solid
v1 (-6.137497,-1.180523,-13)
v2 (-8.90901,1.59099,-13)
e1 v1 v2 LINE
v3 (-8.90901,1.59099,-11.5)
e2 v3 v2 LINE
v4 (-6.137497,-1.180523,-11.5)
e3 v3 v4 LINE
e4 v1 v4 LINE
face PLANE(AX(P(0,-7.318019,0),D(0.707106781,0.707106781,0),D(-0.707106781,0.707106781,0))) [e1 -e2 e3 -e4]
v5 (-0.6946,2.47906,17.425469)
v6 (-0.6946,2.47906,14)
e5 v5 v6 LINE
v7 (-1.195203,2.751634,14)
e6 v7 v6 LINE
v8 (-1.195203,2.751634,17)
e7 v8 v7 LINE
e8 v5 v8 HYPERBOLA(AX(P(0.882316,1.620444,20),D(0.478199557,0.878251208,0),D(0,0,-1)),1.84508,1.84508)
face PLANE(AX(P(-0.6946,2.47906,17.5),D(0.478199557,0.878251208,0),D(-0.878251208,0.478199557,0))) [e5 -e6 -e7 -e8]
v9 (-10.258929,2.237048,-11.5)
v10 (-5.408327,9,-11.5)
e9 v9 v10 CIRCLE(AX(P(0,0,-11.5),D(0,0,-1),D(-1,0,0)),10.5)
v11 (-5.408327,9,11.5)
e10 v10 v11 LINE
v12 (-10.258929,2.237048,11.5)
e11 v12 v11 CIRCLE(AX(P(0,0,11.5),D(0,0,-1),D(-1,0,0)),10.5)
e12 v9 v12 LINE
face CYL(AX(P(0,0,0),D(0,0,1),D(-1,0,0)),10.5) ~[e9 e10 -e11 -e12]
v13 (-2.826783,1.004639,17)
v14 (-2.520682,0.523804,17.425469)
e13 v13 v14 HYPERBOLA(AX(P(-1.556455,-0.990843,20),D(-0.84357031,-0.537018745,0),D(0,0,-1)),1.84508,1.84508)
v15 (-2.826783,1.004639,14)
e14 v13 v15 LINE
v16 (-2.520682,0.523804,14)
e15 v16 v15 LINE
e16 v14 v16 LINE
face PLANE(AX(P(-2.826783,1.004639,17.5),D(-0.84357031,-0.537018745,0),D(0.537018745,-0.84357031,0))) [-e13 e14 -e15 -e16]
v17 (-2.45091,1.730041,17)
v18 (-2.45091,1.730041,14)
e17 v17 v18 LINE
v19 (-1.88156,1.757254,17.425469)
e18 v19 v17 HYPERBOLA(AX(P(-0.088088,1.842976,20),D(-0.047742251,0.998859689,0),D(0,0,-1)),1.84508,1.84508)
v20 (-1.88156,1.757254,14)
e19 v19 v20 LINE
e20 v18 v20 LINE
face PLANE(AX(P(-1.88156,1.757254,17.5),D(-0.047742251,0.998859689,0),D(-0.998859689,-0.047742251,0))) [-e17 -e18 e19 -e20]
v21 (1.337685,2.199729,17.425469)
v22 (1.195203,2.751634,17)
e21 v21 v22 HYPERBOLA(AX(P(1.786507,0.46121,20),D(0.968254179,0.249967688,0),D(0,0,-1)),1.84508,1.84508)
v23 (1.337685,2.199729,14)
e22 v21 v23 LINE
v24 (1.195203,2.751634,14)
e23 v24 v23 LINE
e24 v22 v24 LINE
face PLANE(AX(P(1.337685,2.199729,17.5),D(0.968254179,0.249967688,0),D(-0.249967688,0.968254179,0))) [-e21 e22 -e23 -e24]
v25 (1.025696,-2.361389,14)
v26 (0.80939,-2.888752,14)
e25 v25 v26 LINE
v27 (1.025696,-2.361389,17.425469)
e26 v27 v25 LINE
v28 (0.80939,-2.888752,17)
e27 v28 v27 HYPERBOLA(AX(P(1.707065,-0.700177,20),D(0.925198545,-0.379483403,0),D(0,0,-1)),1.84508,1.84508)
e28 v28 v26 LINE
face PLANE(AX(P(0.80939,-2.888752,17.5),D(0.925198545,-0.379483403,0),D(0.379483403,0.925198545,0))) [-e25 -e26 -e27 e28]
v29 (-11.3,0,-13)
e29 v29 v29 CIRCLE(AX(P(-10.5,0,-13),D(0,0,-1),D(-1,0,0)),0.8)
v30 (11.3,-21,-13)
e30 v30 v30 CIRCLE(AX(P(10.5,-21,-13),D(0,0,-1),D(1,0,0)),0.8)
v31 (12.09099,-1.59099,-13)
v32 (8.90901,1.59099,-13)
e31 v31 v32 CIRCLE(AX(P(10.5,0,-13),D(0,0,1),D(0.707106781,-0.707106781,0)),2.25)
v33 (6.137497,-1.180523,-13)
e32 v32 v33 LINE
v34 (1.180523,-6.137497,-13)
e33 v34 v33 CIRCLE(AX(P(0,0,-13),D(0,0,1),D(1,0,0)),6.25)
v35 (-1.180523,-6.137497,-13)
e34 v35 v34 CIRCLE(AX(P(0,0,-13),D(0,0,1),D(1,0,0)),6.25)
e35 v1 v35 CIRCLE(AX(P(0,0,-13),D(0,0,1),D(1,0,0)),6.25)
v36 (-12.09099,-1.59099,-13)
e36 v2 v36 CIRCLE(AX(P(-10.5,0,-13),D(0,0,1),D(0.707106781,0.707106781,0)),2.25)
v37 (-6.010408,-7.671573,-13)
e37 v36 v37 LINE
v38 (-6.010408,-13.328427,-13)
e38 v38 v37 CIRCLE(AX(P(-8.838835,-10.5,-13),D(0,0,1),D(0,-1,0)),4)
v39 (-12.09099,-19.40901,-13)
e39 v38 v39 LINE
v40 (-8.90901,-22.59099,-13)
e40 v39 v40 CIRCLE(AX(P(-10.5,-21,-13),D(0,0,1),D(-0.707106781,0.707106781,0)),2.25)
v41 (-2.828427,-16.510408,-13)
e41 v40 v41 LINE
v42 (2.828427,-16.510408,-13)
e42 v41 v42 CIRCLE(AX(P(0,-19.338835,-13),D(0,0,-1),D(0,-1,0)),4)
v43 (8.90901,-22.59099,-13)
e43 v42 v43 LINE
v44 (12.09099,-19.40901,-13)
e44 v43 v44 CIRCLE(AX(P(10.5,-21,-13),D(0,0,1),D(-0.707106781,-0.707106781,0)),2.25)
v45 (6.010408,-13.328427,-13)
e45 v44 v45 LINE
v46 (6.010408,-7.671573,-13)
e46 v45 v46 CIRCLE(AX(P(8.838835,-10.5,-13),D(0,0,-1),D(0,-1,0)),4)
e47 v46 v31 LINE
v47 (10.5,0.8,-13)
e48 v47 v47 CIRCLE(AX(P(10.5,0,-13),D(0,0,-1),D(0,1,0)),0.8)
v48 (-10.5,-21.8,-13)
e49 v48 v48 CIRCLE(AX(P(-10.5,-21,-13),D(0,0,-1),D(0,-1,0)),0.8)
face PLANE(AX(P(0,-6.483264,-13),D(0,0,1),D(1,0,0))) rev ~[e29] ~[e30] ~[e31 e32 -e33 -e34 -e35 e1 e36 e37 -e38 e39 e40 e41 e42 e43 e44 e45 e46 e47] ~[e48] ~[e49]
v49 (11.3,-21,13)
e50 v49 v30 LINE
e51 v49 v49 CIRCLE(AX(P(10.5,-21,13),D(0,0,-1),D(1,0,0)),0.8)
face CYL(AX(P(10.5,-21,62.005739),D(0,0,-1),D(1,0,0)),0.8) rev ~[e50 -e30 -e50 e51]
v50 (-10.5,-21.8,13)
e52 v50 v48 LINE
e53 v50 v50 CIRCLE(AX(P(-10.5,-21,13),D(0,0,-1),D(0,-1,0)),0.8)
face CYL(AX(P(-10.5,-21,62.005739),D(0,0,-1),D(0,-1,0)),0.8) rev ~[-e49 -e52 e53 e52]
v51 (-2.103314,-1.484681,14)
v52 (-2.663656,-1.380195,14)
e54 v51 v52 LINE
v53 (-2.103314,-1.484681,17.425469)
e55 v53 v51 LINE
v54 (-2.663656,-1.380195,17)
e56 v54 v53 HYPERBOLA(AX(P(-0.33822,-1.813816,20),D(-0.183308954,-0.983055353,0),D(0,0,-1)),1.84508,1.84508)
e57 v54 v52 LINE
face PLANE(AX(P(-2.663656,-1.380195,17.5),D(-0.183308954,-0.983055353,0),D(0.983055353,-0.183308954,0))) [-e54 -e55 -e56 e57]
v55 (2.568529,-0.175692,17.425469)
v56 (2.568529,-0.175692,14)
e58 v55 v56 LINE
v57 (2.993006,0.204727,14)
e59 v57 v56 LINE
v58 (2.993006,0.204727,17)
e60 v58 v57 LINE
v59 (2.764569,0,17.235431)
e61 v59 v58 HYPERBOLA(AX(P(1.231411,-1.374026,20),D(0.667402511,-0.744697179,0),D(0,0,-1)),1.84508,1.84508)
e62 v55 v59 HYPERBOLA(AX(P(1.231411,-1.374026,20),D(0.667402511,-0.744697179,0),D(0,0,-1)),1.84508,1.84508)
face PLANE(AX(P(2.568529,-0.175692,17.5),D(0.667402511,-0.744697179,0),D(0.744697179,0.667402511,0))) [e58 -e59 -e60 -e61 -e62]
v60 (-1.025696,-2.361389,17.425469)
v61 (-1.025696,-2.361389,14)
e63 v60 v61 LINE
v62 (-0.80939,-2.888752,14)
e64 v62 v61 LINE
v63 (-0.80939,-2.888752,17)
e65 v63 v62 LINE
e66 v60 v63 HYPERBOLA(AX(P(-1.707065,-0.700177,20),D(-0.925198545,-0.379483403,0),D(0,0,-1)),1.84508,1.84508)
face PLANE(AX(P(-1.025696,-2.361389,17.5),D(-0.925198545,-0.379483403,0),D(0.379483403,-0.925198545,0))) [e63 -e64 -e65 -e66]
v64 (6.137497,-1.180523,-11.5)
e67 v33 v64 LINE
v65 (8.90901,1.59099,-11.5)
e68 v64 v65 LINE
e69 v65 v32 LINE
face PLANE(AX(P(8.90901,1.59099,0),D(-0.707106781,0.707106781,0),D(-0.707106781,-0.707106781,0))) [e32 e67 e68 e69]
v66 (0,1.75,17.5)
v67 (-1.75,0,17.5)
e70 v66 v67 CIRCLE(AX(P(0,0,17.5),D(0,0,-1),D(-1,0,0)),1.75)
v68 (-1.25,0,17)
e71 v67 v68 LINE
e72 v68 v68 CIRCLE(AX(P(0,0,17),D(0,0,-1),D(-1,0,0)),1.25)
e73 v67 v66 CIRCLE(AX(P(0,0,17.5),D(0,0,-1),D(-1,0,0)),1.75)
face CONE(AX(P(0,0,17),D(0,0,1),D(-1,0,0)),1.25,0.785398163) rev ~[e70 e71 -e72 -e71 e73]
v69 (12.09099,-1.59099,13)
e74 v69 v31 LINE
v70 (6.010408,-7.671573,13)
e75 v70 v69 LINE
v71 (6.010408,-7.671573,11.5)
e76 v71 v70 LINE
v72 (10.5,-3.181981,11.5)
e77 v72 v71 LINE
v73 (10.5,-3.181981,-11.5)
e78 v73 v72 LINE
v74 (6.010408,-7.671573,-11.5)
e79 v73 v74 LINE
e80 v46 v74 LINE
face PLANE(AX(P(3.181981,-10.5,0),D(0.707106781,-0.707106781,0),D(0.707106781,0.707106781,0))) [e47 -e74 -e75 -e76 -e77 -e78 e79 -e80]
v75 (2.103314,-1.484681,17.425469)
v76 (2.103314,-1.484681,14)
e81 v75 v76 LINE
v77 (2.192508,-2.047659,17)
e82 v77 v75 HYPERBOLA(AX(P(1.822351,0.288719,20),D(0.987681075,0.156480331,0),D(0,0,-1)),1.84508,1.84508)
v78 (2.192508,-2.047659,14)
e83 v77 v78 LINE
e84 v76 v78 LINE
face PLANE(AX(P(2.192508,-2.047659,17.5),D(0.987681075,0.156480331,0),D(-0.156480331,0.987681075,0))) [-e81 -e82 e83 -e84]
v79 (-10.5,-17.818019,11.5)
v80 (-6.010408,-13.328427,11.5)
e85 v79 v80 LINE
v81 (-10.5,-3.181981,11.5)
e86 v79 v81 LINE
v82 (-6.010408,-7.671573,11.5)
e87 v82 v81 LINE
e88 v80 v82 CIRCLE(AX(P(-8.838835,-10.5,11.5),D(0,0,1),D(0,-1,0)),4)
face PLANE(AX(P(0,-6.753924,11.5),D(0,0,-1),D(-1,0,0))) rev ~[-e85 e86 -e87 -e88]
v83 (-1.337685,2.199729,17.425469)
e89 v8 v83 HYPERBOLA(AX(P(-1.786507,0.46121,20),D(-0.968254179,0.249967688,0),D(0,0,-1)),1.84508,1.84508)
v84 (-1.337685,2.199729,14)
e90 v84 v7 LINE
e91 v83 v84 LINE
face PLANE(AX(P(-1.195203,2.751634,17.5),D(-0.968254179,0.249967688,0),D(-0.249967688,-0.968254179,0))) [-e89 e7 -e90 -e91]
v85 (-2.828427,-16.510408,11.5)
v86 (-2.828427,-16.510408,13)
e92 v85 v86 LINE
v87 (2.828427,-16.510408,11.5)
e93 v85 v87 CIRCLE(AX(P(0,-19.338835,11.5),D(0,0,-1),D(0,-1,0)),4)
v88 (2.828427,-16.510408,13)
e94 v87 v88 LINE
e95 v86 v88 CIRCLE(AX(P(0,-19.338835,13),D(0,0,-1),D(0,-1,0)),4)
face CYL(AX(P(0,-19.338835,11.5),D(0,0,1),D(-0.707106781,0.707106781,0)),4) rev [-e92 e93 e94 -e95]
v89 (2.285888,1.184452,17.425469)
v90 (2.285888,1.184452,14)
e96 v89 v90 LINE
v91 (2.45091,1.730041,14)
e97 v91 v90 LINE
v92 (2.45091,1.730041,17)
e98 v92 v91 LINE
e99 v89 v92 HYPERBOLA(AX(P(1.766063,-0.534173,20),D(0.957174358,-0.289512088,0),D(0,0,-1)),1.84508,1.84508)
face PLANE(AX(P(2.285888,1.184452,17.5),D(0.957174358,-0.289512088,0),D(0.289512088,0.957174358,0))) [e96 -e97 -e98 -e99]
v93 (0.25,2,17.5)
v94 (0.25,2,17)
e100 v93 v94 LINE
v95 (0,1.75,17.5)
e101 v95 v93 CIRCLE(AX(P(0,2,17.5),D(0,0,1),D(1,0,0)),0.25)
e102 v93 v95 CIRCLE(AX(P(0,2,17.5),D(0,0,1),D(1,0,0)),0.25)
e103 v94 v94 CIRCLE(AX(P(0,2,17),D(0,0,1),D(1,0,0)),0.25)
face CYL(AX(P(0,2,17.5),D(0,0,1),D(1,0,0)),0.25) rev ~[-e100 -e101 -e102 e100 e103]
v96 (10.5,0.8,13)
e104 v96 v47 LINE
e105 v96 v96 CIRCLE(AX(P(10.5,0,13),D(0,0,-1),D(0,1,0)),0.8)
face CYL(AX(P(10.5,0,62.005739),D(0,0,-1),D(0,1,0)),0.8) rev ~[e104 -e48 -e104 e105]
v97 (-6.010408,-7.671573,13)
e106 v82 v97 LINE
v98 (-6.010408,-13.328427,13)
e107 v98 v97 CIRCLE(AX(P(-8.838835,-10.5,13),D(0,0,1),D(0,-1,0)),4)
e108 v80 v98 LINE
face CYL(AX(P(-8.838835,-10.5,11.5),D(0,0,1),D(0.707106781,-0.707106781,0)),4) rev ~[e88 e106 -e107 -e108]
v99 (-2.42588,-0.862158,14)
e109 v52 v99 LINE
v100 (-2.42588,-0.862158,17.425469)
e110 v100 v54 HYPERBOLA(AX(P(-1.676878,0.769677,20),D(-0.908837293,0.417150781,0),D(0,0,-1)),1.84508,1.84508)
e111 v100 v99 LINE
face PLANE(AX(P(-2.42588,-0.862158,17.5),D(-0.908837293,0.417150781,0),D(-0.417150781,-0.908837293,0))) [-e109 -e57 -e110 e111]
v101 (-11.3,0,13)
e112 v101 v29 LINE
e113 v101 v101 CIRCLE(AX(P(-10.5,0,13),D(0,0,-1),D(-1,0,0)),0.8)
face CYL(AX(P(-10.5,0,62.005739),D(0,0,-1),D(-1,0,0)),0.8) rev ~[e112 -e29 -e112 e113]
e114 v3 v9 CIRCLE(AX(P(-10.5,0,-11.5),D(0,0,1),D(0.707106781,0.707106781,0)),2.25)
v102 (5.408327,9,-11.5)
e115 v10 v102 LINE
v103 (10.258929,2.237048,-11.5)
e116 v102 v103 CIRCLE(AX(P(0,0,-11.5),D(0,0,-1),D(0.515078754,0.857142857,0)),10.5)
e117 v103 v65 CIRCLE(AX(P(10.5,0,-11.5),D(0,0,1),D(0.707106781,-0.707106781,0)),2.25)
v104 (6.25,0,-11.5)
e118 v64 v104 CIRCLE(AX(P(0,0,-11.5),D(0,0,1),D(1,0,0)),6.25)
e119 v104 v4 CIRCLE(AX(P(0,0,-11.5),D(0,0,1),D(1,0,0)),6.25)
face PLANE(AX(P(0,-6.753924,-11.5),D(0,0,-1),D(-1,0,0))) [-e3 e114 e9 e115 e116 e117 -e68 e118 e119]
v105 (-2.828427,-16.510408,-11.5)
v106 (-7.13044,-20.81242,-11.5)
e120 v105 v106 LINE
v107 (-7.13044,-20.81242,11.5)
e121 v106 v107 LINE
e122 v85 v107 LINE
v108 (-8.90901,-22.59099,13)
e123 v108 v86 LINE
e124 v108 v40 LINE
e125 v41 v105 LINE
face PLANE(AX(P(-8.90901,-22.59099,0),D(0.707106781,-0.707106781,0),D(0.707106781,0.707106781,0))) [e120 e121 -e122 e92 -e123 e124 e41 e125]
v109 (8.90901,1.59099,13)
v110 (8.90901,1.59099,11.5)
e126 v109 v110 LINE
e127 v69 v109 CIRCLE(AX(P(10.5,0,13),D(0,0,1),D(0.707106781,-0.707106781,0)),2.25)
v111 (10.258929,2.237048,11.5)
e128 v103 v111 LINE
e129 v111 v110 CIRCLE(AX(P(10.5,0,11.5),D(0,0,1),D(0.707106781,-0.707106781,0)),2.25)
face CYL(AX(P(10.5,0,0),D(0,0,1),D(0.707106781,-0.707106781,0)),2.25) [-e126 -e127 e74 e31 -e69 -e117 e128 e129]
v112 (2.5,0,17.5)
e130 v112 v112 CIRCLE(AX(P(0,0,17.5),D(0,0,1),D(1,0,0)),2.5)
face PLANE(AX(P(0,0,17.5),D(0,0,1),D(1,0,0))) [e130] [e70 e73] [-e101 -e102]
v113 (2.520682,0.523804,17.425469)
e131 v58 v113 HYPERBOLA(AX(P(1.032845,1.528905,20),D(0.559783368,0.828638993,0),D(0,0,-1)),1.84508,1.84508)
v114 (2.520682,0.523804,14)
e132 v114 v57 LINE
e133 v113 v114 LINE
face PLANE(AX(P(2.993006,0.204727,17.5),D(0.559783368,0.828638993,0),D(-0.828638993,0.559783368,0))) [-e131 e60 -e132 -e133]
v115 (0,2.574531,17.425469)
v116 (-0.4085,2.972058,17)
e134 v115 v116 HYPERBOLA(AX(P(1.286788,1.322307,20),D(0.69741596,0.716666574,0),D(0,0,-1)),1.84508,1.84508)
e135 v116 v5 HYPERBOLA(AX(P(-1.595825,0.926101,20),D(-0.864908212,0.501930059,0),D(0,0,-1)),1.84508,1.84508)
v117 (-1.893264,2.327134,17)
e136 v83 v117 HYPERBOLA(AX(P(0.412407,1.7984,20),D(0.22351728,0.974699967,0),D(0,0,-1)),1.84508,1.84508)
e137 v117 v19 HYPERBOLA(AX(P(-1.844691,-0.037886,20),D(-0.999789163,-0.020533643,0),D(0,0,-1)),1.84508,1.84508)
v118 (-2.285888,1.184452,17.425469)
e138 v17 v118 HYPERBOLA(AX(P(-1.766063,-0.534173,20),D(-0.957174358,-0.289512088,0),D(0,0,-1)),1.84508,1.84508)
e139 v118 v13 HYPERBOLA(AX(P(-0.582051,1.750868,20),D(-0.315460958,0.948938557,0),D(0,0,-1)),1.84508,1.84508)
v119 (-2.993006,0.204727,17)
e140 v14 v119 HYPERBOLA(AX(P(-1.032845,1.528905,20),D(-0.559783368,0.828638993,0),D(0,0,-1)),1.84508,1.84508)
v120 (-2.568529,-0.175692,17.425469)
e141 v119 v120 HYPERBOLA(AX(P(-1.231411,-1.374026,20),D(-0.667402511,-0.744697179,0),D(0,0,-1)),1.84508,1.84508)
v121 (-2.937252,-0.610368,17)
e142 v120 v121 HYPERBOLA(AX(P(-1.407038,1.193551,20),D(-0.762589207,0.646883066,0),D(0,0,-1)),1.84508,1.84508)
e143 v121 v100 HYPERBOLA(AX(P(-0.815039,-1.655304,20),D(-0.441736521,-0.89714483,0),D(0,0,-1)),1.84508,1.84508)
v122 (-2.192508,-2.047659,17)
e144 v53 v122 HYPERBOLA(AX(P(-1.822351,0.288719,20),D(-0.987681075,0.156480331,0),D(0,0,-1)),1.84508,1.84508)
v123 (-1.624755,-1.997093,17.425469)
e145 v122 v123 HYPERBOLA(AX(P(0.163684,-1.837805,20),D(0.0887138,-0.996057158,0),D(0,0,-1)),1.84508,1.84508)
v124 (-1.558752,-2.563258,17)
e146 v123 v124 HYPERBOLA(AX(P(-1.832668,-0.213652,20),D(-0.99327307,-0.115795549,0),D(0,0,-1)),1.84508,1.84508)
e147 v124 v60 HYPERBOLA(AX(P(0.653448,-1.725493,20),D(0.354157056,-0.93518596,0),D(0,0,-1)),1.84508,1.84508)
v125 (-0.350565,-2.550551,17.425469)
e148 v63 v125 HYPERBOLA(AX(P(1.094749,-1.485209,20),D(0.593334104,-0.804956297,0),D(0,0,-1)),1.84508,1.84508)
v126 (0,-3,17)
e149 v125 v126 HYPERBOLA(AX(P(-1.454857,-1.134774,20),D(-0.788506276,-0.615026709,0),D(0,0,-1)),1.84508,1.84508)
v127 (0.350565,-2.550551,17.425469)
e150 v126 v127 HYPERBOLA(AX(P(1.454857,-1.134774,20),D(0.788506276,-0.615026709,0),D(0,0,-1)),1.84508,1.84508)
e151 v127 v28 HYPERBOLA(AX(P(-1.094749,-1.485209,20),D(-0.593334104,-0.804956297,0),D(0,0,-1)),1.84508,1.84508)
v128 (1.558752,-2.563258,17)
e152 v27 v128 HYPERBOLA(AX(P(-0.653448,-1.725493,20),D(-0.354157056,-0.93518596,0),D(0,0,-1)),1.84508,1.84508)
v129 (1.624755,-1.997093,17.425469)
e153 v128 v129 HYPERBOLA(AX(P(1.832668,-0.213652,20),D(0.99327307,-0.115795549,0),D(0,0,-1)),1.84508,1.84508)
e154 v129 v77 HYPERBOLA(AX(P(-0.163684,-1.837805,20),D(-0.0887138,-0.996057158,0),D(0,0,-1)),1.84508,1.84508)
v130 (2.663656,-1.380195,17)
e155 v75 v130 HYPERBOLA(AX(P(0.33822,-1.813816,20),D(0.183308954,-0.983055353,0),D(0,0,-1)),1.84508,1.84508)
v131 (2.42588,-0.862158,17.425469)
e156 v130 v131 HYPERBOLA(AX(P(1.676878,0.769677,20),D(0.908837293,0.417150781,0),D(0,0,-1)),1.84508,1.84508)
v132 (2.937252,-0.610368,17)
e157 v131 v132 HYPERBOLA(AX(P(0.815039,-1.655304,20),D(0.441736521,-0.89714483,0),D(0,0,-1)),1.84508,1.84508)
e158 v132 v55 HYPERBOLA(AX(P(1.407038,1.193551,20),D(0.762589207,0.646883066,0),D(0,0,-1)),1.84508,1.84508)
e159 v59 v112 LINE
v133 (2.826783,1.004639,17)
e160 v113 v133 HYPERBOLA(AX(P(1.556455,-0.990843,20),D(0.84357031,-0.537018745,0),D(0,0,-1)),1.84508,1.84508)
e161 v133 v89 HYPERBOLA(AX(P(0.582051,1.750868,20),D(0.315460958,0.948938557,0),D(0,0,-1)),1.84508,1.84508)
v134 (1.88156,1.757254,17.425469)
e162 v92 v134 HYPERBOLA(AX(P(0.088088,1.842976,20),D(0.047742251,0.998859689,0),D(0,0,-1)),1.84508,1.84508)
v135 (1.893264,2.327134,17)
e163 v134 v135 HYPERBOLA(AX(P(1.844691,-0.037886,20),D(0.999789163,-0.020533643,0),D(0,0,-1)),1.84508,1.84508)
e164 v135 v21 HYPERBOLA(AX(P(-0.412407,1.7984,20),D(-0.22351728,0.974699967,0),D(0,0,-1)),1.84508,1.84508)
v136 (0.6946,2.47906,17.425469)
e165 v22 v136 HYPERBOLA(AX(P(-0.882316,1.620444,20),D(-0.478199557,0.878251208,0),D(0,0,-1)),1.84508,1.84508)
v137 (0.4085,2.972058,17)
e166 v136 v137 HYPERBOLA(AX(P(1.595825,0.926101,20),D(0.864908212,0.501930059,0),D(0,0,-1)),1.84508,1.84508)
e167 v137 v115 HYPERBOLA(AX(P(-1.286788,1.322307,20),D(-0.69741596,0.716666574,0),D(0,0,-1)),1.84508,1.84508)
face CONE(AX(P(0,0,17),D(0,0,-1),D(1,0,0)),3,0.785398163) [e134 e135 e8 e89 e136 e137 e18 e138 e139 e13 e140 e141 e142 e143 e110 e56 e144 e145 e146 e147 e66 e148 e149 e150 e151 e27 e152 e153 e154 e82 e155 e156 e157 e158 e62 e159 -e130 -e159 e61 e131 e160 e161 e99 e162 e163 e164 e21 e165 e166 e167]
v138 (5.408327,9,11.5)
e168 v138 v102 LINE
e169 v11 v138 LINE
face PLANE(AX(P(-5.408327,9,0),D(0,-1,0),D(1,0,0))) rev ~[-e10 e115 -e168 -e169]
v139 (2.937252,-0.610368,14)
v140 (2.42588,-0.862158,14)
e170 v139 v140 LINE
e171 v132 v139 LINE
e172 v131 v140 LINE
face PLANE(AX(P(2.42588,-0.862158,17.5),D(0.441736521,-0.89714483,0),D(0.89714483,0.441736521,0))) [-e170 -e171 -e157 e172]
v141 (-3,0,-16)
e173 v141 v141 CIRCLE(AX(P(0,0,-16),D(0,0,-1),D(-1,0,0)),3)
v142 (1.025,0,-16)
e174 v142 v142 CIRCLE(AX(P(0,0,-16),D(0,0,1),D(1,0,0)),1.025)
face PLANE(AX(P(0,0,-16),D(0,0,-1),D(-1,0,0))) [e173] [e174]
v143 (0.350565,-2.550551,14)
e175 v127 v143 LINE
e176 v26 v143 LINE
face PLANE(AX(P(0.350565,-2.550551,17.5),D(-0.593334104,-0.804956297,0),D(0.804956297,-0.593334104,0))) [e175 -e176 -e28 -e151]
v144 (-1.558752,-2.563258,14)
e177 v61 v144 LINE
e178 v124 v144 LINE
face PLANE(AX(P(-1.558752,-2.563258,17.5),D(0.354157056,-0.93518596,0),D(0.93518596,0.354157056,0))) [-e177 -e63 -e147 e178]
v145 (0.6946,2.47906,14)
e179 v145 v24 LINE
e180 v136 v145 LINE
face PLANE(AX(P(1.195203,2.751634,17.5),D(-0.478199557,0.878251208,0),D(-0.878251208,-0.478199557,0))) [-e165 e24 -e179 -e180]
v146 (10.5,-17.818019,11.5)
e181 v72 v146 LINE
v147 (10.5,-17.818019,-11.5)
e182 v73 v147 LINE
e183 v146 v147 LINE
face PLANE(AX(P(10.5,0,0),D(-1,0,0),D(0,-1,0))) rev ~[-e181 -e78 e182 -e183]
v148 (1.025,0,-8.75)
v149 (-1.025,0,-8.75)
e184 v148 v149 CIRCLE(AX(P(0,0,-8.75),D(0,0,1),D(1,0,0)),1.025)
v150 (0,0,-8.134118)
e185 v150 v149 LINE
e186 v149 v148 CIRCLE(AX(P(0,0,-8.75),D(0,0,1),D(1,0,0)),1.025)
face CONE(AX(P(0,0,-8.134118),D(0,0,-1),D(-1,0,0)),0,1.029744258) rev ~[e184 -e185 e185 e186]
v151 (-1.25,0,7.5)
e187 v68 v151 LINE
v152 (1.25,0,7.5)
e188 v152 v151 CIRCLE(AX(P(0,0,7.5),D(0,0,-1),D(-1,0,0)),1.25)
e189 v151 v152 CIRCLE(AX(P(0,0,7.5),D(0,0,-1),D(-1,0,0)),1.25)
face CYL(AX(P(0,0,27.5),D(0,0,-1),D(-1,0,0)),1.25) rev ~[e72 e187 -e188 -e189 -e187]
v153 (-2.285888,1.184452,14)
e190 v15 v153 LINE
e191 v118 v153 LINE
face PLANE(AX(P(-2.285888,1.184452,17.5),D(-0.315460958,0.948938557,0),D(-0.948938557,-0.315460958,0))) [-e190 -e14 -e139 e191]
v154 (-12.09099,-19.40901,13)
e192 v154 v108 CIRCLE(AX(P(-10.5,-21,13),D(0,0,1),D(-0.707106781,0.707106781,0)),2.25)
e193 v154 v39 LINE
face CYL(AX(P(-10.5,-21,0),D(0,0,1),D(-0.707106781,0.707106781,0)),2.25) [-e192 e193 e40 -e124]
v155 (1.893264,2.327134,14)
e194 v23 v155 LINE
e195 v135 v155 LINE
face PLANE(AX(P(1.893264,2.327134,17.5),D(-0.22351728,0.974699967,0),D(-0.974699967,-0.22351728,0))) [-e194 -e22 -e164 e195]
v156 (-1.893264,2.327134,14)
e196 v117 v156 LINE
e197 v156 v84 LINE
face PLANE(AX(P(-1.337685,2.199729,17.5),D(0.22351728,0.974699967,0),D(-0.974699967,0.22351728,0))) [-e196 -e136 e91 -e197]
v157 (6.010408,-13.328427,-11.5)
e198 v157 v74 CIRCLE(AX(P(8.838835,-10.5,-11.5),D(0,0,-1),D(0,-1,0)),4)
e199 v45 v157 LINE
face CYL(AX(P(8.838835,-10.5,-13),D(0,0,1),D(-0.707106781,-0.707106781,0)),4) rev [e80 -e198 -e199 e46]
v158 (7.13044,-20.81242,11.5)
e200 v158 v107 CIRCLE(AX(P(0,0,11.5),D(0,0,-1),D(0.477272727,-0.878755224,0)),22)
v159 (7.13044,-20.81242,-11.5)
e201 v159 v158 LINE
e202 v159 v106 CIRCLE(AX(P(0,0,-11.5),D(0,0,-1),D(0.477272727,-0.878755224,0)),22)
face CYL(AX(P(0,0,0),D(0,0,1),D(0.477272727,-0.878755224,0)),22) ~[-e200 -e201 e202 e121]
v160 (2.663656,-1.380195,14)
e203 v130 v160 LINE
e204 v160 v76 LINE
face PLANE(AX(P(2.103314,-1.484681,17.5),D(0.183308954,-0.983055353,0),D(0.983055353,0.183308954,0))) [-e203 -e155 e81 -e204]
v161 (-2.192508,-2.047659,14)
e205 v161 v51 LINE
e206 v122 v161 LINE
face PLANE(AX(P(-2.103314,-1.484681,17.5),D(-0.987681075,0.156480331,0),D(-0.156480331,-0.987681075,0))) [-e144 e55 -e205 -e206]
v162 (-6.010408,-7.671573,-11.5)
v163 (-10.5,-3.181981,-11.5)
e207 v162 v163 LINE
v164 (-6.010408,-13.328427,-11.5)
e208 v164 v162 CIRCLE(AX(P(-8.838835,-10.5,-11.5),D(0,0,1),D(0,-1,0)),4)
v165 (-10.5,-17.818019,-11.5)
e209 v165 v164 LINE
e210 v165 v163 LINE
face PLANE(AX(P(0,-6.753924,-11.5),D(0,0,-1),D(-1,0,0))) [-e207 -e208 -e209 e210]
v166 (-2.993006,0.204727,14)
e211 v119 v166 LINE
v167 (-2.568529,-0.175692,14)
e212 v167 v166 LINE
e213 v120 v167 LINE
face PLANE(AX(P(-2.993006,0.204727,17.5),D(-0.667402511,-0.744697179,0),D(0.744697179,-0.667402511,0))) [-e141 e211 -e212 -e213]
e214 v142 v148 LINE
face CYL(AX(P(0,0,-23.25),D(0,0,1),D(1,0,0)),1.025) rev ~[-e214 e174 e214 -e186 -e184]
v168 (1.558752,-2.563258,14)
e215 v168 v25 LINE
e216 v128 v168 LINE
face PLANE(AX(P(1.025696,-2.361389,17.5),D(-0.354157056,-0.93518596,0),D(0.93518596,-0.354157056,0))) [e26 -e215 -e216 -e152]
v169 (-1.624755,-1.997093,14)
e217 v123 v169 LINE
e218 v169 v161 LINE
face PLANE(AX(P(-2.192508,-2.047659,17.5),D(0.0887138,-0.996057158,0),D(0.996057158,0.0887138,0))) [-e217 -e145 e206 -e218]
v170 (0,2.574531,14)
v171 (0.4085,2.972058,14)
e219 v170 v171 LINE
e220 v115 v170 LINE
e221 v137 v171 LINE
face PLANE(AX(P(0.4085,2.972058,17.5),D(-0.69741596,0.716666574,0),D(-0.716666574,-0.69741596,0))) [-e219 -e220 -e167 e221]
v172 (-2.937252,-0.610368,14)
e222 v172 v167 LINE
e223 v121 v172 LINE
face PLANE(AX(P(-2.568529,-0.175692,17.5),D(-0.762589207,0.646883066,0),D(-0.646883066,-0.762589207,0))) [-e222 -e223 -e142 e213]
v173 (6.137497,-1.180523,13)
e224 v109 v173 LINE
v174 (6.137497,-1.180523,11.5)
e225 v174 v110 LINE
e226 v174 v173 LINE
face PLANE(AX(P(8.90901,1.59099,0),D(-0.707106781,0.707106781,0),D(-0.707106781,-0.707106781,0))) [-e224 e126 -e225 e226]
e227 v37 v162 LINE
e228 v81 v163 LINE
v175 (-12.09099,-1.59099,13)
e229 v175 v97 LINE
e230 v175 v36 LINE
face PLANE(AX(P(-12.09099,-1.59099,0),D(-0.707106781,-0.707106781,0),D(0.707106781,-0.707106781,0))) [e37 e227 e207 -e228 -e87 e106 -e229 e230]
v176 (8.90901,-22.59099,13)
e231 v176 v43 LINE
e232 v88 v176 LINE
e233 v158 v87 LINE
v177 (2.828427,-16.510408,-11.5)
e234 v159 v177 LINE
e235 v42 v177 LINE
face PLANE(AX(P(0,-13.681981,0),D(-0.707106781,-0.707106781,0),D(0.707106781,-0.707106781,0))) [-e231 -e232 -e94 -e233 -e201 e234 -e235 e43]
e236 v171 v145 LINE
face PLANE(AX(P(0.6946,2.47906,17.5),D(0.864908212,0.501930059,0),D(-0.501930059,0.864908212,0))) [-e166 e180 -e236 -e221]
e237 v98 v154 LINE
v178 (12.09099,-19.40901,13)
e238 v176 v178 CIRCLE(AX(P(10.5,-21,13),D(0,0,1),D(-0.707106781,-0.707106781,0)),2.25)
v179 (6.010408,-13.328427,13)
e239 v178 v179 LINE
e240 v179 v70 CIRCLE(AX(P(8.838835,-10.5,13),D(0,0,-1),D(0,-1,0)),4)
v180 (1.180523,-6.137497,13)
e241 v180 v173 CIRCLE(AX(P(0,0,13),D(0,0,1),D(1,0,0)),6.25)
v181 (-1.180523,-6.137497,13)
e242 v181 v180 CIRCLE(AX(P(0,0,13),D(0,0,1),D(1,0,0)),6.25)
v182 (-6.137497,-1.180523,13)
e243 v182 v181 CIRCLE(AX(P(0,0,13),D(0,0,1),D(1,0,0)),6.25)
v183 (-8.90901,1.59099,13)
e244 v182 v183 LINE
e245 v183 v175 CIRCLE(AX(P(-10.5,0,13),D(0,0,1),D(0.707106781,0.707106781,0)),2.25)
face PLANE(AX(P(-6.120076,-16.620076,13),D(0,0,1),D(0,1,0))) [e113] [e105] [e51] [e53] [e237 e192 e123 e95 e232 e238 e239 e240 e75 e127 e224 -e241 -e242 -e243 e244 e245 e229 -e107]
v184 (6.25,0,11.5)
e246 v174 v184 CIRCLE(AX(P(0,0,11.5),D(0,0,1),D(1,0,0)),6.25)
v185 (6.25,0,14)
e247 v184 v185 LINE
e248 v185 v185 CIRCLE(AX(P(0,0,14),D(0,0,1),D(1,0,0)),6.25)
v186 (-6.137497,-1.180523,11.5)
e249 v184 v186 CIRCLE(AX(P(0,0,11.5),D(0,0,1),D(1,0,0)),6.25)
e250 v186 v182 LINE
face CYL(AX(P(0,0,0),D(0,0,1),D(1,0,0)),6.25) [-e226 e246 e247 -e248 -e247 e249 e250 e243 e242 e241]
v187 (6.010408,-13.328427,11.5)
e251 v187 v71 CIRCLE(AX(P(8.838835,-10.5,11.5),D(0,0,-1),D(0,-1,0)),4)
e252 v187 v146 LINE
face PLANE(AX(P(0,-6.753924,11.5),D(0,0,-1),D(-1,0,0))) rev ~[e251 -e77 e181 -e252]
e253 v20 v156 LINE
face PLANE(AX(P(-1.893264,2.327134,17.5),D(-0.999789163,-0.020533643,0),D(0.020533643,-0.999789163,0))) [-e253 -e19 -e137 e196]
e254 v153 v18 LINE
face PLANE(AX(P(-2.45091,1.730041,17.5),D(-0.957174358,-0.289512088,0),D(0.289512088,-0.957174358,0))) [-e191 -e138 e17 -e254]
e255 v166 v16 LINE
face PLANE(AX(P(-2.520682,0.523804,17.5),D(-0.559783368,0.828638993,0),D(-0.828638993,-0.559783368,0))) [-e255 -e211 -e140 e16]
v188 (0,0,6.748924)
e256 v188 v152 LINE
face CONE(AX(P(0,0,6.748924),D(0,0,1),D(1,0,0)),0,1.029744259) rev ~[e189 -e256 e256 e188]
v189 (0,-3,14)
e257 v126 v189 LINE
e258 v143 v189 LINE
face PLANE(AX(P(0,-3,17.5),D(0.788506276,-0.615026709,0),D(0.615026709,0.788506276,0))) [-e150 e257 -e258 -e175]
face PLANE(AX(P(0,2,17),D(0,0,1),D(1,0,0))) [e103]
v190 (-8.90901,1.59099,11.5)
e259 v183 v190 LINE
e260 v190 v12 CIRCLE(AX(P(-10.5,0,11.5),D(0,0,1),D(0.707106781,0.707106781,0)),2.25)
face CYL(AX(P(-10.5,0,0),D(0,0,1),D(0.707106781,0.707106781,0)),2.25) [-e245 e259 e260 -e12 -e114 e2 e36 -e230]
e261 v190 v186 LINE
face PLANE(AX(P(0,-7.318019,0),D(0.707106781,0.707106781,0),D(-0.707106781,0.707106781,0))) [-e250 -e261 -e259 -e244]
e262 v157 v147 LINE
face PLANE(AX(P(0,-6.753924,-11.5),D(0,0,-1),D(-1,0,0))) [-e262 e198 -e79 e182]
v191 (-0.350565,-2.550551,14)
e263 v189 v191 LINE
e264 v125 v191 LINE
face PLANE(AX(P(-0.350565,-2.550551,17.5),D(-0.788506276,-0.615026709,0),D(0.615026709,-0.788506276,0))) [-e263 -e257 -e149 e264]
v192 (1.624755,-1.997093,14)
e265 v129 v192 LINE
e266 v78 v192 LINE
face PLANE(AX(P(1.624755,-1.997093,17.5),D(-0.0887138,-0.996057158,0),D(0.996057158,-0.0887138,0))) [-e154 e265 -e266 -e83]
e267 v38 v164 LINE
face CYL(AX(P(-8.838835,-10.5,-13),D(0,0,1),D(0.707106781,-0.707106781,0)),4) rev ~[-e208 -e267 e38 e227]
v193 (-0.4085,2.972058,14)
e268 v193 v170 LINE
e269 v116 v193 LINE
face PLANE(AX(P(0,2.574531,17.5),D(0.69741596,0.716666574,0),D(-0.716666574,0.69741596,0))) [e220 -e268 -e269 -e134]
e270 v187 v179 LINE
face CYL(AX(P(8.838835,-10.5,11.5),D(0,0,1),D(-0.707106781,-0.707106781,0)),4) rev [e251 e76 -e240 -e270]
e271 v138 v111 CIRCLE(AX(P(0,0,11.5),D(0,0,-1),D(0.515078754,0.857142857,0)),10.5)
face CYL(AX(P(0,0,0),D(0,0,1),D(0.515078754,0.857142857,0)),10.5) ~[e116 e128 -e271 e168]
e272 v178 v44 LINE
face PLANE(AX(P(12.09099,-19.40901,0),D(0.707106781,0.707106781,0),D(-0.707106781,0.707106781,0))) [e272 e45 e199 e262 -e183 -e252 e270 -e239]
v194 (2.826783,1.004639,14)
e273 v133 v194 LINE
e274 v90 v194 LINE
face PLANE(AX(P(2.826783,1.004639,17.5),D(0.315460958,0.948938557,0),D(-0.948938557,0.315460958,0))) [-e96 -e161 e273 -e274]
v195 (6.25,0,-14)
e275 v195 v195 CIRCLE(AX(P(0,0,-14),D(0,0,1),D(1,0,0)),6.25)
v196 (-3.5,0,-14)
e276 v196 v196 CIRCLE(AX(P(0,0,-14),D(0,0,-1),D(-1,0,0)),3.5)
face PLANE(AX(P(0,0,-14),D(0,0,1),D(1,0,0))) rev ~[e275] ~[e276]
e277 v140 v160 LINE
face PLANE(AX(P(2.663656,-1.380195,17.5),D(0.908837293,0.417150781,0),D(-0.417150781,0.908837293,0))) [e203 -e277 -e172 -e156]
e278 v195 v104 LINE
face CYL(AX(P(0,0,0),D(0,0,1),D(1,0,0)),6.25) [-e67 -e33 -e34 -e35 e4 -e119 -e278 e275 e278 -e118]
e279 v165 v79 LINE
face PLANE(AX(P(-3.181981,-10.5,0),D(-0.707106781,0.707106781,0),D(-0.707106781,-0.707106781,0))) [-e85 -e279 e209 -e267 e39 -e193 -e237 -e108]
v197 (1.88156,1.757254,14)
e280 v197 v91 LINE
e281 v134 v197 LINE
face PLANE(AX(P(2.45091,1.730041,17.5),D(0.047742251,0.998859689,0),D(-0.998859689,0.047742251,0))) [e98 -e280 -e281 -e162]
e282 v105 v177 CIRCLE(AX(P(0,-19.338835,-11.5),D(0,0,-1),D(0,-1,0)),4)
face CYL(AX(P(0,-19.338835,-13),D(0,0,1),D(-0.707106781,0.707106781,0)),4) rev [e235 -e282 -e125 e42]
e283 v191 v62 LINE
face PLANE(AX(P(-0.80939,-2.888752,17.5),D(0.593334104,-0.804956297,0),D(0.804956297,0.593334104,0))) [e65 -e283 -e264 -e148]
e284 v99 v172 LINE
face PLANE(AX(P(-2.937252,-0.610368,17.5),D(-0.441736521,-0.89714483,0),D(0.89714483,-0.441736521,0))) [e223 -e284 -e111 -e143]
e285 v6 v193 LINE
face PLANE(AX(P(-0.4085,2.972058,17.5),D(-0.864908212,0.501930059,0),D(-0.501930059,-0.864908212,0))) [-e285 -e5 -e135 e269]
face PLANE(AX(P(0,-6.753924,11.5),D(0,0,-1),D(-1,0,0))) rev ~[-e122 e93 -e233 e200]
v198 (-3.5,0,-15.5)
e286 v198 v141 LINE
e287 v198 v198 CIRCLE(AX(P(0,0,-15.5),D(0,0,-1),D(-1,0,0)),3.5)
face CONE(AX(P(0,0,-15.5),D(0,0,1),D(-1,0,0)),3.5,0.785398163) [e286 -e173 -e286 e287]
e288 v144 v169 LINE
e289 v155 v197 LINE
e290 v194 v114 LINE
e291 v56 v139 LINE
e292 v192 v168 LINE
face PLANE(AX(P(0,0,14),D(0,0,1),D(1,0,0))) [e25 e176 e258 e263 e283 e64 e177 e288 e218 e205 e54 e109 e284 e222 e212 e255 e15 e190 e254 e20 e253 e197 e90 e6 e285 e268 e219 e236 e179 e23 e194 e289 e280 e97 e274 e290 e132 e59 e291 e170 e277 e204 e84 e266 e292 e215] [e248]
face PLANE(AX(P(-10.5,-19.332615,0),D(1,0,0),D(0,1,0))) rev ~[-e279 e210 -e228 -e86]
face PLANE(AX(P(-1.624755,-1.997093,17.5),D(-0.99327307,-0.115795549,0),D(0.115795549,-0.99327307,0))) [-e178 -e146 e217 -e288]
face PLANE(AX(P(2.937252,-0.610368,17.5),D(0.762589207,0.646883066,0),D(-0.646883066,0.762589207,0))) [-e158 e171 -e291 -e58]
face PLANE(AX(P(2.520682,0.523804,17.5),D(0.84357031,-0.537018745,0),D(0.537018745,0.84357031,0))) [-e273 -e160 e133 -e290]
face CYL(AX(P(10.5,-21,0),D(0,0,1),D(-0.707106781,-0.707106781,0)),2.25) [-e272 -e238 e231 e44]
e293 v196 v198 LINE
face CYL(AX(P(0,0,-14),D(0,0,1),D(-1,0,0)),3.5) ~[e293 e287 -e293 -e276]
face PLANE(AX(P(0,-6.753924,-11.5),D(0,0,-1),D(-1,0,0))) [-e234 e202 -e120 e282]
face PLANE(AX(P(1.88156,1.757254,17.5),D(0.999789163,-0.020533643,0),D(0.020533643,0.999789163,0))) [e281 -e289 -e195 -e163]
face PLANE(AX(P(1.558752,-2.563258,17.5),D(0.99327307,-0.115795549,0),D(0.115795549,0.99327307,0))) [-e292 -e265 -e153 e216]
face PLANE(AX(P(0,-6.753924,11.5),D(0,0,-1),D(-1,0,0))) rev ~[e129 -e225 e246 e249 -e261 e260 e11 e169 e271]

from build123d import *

# Parameters (mm, degrees)
EXTRUDE_1_DEPTH          = 11.5
SKETCH_2_R               = 6.25
EXTRUDE_2_DEPTH          = 14
SKETCH_3_R               = 3.5
EXTRUDE_3_DEPTH          = 2
CHAMFER_1_SIZE           = 0.5
M2_5X0_45_1_D            = 2.05
M2_5X0_45_1_DEPTH        = 7.25
M2_5X0_45_1_TIP          = 0.615882135
EXTRUDE_4_DEPTH          = 13
M2X0_4_1_D               = 1.6
PATTERN_CIRCULAR_1_COUNT = 4
FILLET_1_R               = 4
EXTRUDE_5_DEPTH          = 26
SKETCH_13_R              = 3
EXTRUDE_6_DEPTH          = 3.5
M3X0_5_1_D               = 2.5
M3X0_5_1_DEPTH           = 10
M3X0_5_1_TIP             = 0.751075774
CHAMFER_2_SIZE           = 0.5
SKETCH_17_R              = 0.25
CUT_EXTRUDE_1_DEPTH      = 0.5
CUT_EXTRUDE_2_REACH      = 44.724
PATTERN_CIRCULAR_2_COUNT = 23


with BuildPart() as part:
    # ｽｹｯﾁ1 → ﾎﾞｽ - 押し出し1 (new, symmetric)
    with BuildSketch(Plane.XY):
        with BuildLine():
            Line((-5.408326913, 9), (5.408326913, 9))
            ThreePointArc((5.408326913, 9), (9.138857494, 5.170230527), (10.5, 0))
            Line((10.5, 0), (10.5, -19.332614929))
            ThreePointArc((10.5, -19.332614929), (0, -22), (-10.5, -19.332614929))
            Line((-10.5, -19.332614929), (-10.5, 0))
            ThreePointArc((-10.5, 0), (-9.138857494, 5.170230527), (-5.408326913, 9))
        make_face()
    extrude(amount=EXTRUDE_1_DEPTH, both=True)

    # ｽｹｯﾁ2 → ﾎﾞｽ - 押し出し2 (add, symmetric)
    with BuildSketch(Plane.XY):
        Circle(SKETCH_2_R)
    extrude(amount=EXTRUDE_2_DEPTH, both=True)

    # ｽｹｯﾁ3 → ﾎﾞｽ - 押し出し3 (add)
    with BuildSketch(Plane(origin=(0, 0, -14), x_dir=(-1, 0, 0), z_dir=(0, 0, -1))):
        Circle(SKETCH_3_R)
    extrude(amount=EXTRUDE_3_DEPTH)

    # 面取り1
    chamfer_1_edges = [part.edges().sort_by_distance(p)[0] for p in [
        (3.5, 0, -16),
    ]]
    chamfer(chamfer_1_edges, length=CHAMFER_1_SIZE)

    # M2.5x0.45 ねじ穴1
    with Locations(Plane(origin=(0, 0, -16), x_dir=(-1, 0, 0), z_dir=(0, 0, -1))):
        with Locations((0, 0)):
            Hole(M2_5X0_45_1_D / 2, depth=M2_5X0_45_1_DEPTH)
            with Locations((0, 0, -(M2_5X0_45_1_DEPTH + M2_5X0_45_1_TIP / 2))):  # 118° drill point
                Cone(0, M2_5X0_45_1_D / 2, M2_5X0_45_1_TIP, mode=Mode.SUBTRACT)

    # ｽｹｯﾁ7 → ﾎﾞｽ - 押し出し4 (add, symmetric)
    with BuildSketch(Plane.XY):
        with BuildLine():
            Line((-12.090990258, -1.590990258), (-3.181980515, -10.5))
            Line((-3.181980515, -10.5), (0, -10.5))
            Line((0, -10.5), (0, -7.318019485))
            Line((0, -7.318019485), (-8.909009742, 1.590990258))
            ThreePointArc((-8.909009742, 1.590990258), (-12.090990258, 1.590990258), (-12.090990258, -1.590990258))
        make_face()
    extrude_4 = extrude(amount=EXTRUDE_4_DEPTH, both=True)

    # M2x0.4 ねじ穴1 (through all)
    with Locations(Plane.XY.offset(13)):
        with Locations((-10.5, 0)):
            m2x0_4_1 = Hole(M2X0_4_1_D / 2)

    # 円形ﾊﾟﾀｰﾝ1: ﾎﾞｽ - 押し出し4, M2x0.4 ねじ穴1 ×4 about axis
    pattern_circular_1_axis = Axis((0, -10.5, 0), (0, 0, 1))
    add([extrude_4.rotate(pattern_circular_1_axis, i * 360 / PATTERN_CIRCULAR_1_COUNT) for i in range(1, PATTERN_CIRCULAR_1_COUNT)])
    add([m2x0_4_1.rotate(pattern_circular_1_axis, i * 360 / PATTERN_CIRCULAR_1_COUNT) for i in range(1, PATTERN_CIRCULAR_1_COUNT)], mode=Mode.SUBTRACT)

    # ﾌｨﾚｯﾄ1
    fillet_1_edges = [part.edges().sort_by_distance(p)[0] for p in [
        (3.181980515, -10.5, -12.25),
        (3.181980515, -10.5, 12.25),
        (0, -13.681980515, -12.25),
        (0, -13.681980515, 12.25),
        (-3.181980515, -10.5, -12.25),
        (-3.181980515, -10.5, 12.25),
    ]]
    fillet(fillet_1_edges, radius=FILLET_1_R)

    # ｽｹｯﾁ12 → ﾎﾞｽ - 押し出し5 (add)
    with BuildSketch(Plane(origin=(0, 0, -13), x_dir=(-1, 0, 0), z_dir=(0, 0, -1))):
        Polygon((0, -7.318019485), (-1.180522763, -6.137496721), (1.180522763, -6.137496721), align=None)
    extrude(amount=-EXTRUDE_5_DEPTH)

    # ｽｹｯﾁ13 → ﾎﾞｽ - 押し出し6 (add)
    with BuildSketch(Plane.XY.offset(14)):
        Circle(SKETCH_13_R)
    extrude(amount=EXTRUDE_6_DEPTH)

    # M3x0.5 ねじ穴1
    with Locations(Plane.XY.offset(17.5)):
        with Locations((0, 0)):
            Hole(M3X0_5_1_D / 2, depth=M3X0_5_1_DEPTH)
            with Locations((0, 0, -(M3X0_5_1_DEPTH + M3X0_5_1_TIP / 2))):  # 118° drill point
                Cone(0, M3X0_5_1_D / 2, M3X0_5_1_TIP, mode=Mode.SUBTRACT)

    # 面取り2
    chamfer_2_edges = [part.edges().sort_by_distance(p)[0] for p in [
        (-3, 0, 17.5),
        (1.25, 0, 17.5),
    ]]
    chamfer(chamfer_2_edges, length=CHAMFER_2_SIZE)

    # ｽｹｯﾁ17 → ｶｯﾄ - 押し出し1 (cut)
    with BuildSketch(Plane.XY.offset(17.5)):
        with Locations((0, 2)):
            Circle(SKETCH_17_R)
    extrude(amount=-CUT_EXTRUDE_1_DEPTH, mode=Mode.SUBTRACT)

    # ｶｯﾄ - 押し出し2: up to this face of the body (flat: up to its plane)
    cut_extrude_2_end = Plane(part.part.faces().sort_by_distance((-6.073223305, 0, 14))[0])
    # ｽｹｯﾁ18 → ｶｯﾄ - 押し出し2 (cut, up to the picked face)
    with BuildSketch(Plane.XY.offset(17.5), mode=Mode.PRIVATE) as cut_extrude_2_sk1:
        with BuildLine():
            Line((0, 2.574530741), (-0.408499947, 2.972057838))
            Line((-0.408499947, 2.972057838), (-0.476583272, 3.467400811))
            ThreePointArc((-0.476583272, 3.467400811), (0, 3.5), (0.476583272, 3.467400811))
            Line((0.476583272, 3.467400811), (0.408499947, 2.972057838))
            Line((0.408499947, 2.972057838), (0, 2.574530741))
        make_face()
    cut_extrude_2_tool1 = split(extrude(cut_extrude_2_sk1.sketch, amount=-CUT_EXTRUDE_2_REACH, mode=Mode.PRIVATE), bisect_by=cut_extrude_2_end, keep=Keep.BOTH, mode=Mode.PRIVATE)
    cut_extrude_2 = cut_extrude_2_tool1.solids().sort_by(Axis((0, 3.133577, 17.5), (0, 0, -1)))[0]
    add(cut_extrude_2, mode=Mode.SUBTRACT)

    # 円形ﾊﾟﾀｰﾝ2: ｶｯﾄ - 押し出し2 ×23 about axis
    pattern_circular_2_axis = Axis((0, 0, 0), (0, 0, 1))
    for i in range(1, PATTERN_CIRCULAR_2_COUNT):
        add(cut_extrude_2.rotate(pattern_circular_2_axis, i * 360 / PATTERN_CIRCULAR_2_COUNT), mode=Mode.SUBTRACT)


solid = part.part
